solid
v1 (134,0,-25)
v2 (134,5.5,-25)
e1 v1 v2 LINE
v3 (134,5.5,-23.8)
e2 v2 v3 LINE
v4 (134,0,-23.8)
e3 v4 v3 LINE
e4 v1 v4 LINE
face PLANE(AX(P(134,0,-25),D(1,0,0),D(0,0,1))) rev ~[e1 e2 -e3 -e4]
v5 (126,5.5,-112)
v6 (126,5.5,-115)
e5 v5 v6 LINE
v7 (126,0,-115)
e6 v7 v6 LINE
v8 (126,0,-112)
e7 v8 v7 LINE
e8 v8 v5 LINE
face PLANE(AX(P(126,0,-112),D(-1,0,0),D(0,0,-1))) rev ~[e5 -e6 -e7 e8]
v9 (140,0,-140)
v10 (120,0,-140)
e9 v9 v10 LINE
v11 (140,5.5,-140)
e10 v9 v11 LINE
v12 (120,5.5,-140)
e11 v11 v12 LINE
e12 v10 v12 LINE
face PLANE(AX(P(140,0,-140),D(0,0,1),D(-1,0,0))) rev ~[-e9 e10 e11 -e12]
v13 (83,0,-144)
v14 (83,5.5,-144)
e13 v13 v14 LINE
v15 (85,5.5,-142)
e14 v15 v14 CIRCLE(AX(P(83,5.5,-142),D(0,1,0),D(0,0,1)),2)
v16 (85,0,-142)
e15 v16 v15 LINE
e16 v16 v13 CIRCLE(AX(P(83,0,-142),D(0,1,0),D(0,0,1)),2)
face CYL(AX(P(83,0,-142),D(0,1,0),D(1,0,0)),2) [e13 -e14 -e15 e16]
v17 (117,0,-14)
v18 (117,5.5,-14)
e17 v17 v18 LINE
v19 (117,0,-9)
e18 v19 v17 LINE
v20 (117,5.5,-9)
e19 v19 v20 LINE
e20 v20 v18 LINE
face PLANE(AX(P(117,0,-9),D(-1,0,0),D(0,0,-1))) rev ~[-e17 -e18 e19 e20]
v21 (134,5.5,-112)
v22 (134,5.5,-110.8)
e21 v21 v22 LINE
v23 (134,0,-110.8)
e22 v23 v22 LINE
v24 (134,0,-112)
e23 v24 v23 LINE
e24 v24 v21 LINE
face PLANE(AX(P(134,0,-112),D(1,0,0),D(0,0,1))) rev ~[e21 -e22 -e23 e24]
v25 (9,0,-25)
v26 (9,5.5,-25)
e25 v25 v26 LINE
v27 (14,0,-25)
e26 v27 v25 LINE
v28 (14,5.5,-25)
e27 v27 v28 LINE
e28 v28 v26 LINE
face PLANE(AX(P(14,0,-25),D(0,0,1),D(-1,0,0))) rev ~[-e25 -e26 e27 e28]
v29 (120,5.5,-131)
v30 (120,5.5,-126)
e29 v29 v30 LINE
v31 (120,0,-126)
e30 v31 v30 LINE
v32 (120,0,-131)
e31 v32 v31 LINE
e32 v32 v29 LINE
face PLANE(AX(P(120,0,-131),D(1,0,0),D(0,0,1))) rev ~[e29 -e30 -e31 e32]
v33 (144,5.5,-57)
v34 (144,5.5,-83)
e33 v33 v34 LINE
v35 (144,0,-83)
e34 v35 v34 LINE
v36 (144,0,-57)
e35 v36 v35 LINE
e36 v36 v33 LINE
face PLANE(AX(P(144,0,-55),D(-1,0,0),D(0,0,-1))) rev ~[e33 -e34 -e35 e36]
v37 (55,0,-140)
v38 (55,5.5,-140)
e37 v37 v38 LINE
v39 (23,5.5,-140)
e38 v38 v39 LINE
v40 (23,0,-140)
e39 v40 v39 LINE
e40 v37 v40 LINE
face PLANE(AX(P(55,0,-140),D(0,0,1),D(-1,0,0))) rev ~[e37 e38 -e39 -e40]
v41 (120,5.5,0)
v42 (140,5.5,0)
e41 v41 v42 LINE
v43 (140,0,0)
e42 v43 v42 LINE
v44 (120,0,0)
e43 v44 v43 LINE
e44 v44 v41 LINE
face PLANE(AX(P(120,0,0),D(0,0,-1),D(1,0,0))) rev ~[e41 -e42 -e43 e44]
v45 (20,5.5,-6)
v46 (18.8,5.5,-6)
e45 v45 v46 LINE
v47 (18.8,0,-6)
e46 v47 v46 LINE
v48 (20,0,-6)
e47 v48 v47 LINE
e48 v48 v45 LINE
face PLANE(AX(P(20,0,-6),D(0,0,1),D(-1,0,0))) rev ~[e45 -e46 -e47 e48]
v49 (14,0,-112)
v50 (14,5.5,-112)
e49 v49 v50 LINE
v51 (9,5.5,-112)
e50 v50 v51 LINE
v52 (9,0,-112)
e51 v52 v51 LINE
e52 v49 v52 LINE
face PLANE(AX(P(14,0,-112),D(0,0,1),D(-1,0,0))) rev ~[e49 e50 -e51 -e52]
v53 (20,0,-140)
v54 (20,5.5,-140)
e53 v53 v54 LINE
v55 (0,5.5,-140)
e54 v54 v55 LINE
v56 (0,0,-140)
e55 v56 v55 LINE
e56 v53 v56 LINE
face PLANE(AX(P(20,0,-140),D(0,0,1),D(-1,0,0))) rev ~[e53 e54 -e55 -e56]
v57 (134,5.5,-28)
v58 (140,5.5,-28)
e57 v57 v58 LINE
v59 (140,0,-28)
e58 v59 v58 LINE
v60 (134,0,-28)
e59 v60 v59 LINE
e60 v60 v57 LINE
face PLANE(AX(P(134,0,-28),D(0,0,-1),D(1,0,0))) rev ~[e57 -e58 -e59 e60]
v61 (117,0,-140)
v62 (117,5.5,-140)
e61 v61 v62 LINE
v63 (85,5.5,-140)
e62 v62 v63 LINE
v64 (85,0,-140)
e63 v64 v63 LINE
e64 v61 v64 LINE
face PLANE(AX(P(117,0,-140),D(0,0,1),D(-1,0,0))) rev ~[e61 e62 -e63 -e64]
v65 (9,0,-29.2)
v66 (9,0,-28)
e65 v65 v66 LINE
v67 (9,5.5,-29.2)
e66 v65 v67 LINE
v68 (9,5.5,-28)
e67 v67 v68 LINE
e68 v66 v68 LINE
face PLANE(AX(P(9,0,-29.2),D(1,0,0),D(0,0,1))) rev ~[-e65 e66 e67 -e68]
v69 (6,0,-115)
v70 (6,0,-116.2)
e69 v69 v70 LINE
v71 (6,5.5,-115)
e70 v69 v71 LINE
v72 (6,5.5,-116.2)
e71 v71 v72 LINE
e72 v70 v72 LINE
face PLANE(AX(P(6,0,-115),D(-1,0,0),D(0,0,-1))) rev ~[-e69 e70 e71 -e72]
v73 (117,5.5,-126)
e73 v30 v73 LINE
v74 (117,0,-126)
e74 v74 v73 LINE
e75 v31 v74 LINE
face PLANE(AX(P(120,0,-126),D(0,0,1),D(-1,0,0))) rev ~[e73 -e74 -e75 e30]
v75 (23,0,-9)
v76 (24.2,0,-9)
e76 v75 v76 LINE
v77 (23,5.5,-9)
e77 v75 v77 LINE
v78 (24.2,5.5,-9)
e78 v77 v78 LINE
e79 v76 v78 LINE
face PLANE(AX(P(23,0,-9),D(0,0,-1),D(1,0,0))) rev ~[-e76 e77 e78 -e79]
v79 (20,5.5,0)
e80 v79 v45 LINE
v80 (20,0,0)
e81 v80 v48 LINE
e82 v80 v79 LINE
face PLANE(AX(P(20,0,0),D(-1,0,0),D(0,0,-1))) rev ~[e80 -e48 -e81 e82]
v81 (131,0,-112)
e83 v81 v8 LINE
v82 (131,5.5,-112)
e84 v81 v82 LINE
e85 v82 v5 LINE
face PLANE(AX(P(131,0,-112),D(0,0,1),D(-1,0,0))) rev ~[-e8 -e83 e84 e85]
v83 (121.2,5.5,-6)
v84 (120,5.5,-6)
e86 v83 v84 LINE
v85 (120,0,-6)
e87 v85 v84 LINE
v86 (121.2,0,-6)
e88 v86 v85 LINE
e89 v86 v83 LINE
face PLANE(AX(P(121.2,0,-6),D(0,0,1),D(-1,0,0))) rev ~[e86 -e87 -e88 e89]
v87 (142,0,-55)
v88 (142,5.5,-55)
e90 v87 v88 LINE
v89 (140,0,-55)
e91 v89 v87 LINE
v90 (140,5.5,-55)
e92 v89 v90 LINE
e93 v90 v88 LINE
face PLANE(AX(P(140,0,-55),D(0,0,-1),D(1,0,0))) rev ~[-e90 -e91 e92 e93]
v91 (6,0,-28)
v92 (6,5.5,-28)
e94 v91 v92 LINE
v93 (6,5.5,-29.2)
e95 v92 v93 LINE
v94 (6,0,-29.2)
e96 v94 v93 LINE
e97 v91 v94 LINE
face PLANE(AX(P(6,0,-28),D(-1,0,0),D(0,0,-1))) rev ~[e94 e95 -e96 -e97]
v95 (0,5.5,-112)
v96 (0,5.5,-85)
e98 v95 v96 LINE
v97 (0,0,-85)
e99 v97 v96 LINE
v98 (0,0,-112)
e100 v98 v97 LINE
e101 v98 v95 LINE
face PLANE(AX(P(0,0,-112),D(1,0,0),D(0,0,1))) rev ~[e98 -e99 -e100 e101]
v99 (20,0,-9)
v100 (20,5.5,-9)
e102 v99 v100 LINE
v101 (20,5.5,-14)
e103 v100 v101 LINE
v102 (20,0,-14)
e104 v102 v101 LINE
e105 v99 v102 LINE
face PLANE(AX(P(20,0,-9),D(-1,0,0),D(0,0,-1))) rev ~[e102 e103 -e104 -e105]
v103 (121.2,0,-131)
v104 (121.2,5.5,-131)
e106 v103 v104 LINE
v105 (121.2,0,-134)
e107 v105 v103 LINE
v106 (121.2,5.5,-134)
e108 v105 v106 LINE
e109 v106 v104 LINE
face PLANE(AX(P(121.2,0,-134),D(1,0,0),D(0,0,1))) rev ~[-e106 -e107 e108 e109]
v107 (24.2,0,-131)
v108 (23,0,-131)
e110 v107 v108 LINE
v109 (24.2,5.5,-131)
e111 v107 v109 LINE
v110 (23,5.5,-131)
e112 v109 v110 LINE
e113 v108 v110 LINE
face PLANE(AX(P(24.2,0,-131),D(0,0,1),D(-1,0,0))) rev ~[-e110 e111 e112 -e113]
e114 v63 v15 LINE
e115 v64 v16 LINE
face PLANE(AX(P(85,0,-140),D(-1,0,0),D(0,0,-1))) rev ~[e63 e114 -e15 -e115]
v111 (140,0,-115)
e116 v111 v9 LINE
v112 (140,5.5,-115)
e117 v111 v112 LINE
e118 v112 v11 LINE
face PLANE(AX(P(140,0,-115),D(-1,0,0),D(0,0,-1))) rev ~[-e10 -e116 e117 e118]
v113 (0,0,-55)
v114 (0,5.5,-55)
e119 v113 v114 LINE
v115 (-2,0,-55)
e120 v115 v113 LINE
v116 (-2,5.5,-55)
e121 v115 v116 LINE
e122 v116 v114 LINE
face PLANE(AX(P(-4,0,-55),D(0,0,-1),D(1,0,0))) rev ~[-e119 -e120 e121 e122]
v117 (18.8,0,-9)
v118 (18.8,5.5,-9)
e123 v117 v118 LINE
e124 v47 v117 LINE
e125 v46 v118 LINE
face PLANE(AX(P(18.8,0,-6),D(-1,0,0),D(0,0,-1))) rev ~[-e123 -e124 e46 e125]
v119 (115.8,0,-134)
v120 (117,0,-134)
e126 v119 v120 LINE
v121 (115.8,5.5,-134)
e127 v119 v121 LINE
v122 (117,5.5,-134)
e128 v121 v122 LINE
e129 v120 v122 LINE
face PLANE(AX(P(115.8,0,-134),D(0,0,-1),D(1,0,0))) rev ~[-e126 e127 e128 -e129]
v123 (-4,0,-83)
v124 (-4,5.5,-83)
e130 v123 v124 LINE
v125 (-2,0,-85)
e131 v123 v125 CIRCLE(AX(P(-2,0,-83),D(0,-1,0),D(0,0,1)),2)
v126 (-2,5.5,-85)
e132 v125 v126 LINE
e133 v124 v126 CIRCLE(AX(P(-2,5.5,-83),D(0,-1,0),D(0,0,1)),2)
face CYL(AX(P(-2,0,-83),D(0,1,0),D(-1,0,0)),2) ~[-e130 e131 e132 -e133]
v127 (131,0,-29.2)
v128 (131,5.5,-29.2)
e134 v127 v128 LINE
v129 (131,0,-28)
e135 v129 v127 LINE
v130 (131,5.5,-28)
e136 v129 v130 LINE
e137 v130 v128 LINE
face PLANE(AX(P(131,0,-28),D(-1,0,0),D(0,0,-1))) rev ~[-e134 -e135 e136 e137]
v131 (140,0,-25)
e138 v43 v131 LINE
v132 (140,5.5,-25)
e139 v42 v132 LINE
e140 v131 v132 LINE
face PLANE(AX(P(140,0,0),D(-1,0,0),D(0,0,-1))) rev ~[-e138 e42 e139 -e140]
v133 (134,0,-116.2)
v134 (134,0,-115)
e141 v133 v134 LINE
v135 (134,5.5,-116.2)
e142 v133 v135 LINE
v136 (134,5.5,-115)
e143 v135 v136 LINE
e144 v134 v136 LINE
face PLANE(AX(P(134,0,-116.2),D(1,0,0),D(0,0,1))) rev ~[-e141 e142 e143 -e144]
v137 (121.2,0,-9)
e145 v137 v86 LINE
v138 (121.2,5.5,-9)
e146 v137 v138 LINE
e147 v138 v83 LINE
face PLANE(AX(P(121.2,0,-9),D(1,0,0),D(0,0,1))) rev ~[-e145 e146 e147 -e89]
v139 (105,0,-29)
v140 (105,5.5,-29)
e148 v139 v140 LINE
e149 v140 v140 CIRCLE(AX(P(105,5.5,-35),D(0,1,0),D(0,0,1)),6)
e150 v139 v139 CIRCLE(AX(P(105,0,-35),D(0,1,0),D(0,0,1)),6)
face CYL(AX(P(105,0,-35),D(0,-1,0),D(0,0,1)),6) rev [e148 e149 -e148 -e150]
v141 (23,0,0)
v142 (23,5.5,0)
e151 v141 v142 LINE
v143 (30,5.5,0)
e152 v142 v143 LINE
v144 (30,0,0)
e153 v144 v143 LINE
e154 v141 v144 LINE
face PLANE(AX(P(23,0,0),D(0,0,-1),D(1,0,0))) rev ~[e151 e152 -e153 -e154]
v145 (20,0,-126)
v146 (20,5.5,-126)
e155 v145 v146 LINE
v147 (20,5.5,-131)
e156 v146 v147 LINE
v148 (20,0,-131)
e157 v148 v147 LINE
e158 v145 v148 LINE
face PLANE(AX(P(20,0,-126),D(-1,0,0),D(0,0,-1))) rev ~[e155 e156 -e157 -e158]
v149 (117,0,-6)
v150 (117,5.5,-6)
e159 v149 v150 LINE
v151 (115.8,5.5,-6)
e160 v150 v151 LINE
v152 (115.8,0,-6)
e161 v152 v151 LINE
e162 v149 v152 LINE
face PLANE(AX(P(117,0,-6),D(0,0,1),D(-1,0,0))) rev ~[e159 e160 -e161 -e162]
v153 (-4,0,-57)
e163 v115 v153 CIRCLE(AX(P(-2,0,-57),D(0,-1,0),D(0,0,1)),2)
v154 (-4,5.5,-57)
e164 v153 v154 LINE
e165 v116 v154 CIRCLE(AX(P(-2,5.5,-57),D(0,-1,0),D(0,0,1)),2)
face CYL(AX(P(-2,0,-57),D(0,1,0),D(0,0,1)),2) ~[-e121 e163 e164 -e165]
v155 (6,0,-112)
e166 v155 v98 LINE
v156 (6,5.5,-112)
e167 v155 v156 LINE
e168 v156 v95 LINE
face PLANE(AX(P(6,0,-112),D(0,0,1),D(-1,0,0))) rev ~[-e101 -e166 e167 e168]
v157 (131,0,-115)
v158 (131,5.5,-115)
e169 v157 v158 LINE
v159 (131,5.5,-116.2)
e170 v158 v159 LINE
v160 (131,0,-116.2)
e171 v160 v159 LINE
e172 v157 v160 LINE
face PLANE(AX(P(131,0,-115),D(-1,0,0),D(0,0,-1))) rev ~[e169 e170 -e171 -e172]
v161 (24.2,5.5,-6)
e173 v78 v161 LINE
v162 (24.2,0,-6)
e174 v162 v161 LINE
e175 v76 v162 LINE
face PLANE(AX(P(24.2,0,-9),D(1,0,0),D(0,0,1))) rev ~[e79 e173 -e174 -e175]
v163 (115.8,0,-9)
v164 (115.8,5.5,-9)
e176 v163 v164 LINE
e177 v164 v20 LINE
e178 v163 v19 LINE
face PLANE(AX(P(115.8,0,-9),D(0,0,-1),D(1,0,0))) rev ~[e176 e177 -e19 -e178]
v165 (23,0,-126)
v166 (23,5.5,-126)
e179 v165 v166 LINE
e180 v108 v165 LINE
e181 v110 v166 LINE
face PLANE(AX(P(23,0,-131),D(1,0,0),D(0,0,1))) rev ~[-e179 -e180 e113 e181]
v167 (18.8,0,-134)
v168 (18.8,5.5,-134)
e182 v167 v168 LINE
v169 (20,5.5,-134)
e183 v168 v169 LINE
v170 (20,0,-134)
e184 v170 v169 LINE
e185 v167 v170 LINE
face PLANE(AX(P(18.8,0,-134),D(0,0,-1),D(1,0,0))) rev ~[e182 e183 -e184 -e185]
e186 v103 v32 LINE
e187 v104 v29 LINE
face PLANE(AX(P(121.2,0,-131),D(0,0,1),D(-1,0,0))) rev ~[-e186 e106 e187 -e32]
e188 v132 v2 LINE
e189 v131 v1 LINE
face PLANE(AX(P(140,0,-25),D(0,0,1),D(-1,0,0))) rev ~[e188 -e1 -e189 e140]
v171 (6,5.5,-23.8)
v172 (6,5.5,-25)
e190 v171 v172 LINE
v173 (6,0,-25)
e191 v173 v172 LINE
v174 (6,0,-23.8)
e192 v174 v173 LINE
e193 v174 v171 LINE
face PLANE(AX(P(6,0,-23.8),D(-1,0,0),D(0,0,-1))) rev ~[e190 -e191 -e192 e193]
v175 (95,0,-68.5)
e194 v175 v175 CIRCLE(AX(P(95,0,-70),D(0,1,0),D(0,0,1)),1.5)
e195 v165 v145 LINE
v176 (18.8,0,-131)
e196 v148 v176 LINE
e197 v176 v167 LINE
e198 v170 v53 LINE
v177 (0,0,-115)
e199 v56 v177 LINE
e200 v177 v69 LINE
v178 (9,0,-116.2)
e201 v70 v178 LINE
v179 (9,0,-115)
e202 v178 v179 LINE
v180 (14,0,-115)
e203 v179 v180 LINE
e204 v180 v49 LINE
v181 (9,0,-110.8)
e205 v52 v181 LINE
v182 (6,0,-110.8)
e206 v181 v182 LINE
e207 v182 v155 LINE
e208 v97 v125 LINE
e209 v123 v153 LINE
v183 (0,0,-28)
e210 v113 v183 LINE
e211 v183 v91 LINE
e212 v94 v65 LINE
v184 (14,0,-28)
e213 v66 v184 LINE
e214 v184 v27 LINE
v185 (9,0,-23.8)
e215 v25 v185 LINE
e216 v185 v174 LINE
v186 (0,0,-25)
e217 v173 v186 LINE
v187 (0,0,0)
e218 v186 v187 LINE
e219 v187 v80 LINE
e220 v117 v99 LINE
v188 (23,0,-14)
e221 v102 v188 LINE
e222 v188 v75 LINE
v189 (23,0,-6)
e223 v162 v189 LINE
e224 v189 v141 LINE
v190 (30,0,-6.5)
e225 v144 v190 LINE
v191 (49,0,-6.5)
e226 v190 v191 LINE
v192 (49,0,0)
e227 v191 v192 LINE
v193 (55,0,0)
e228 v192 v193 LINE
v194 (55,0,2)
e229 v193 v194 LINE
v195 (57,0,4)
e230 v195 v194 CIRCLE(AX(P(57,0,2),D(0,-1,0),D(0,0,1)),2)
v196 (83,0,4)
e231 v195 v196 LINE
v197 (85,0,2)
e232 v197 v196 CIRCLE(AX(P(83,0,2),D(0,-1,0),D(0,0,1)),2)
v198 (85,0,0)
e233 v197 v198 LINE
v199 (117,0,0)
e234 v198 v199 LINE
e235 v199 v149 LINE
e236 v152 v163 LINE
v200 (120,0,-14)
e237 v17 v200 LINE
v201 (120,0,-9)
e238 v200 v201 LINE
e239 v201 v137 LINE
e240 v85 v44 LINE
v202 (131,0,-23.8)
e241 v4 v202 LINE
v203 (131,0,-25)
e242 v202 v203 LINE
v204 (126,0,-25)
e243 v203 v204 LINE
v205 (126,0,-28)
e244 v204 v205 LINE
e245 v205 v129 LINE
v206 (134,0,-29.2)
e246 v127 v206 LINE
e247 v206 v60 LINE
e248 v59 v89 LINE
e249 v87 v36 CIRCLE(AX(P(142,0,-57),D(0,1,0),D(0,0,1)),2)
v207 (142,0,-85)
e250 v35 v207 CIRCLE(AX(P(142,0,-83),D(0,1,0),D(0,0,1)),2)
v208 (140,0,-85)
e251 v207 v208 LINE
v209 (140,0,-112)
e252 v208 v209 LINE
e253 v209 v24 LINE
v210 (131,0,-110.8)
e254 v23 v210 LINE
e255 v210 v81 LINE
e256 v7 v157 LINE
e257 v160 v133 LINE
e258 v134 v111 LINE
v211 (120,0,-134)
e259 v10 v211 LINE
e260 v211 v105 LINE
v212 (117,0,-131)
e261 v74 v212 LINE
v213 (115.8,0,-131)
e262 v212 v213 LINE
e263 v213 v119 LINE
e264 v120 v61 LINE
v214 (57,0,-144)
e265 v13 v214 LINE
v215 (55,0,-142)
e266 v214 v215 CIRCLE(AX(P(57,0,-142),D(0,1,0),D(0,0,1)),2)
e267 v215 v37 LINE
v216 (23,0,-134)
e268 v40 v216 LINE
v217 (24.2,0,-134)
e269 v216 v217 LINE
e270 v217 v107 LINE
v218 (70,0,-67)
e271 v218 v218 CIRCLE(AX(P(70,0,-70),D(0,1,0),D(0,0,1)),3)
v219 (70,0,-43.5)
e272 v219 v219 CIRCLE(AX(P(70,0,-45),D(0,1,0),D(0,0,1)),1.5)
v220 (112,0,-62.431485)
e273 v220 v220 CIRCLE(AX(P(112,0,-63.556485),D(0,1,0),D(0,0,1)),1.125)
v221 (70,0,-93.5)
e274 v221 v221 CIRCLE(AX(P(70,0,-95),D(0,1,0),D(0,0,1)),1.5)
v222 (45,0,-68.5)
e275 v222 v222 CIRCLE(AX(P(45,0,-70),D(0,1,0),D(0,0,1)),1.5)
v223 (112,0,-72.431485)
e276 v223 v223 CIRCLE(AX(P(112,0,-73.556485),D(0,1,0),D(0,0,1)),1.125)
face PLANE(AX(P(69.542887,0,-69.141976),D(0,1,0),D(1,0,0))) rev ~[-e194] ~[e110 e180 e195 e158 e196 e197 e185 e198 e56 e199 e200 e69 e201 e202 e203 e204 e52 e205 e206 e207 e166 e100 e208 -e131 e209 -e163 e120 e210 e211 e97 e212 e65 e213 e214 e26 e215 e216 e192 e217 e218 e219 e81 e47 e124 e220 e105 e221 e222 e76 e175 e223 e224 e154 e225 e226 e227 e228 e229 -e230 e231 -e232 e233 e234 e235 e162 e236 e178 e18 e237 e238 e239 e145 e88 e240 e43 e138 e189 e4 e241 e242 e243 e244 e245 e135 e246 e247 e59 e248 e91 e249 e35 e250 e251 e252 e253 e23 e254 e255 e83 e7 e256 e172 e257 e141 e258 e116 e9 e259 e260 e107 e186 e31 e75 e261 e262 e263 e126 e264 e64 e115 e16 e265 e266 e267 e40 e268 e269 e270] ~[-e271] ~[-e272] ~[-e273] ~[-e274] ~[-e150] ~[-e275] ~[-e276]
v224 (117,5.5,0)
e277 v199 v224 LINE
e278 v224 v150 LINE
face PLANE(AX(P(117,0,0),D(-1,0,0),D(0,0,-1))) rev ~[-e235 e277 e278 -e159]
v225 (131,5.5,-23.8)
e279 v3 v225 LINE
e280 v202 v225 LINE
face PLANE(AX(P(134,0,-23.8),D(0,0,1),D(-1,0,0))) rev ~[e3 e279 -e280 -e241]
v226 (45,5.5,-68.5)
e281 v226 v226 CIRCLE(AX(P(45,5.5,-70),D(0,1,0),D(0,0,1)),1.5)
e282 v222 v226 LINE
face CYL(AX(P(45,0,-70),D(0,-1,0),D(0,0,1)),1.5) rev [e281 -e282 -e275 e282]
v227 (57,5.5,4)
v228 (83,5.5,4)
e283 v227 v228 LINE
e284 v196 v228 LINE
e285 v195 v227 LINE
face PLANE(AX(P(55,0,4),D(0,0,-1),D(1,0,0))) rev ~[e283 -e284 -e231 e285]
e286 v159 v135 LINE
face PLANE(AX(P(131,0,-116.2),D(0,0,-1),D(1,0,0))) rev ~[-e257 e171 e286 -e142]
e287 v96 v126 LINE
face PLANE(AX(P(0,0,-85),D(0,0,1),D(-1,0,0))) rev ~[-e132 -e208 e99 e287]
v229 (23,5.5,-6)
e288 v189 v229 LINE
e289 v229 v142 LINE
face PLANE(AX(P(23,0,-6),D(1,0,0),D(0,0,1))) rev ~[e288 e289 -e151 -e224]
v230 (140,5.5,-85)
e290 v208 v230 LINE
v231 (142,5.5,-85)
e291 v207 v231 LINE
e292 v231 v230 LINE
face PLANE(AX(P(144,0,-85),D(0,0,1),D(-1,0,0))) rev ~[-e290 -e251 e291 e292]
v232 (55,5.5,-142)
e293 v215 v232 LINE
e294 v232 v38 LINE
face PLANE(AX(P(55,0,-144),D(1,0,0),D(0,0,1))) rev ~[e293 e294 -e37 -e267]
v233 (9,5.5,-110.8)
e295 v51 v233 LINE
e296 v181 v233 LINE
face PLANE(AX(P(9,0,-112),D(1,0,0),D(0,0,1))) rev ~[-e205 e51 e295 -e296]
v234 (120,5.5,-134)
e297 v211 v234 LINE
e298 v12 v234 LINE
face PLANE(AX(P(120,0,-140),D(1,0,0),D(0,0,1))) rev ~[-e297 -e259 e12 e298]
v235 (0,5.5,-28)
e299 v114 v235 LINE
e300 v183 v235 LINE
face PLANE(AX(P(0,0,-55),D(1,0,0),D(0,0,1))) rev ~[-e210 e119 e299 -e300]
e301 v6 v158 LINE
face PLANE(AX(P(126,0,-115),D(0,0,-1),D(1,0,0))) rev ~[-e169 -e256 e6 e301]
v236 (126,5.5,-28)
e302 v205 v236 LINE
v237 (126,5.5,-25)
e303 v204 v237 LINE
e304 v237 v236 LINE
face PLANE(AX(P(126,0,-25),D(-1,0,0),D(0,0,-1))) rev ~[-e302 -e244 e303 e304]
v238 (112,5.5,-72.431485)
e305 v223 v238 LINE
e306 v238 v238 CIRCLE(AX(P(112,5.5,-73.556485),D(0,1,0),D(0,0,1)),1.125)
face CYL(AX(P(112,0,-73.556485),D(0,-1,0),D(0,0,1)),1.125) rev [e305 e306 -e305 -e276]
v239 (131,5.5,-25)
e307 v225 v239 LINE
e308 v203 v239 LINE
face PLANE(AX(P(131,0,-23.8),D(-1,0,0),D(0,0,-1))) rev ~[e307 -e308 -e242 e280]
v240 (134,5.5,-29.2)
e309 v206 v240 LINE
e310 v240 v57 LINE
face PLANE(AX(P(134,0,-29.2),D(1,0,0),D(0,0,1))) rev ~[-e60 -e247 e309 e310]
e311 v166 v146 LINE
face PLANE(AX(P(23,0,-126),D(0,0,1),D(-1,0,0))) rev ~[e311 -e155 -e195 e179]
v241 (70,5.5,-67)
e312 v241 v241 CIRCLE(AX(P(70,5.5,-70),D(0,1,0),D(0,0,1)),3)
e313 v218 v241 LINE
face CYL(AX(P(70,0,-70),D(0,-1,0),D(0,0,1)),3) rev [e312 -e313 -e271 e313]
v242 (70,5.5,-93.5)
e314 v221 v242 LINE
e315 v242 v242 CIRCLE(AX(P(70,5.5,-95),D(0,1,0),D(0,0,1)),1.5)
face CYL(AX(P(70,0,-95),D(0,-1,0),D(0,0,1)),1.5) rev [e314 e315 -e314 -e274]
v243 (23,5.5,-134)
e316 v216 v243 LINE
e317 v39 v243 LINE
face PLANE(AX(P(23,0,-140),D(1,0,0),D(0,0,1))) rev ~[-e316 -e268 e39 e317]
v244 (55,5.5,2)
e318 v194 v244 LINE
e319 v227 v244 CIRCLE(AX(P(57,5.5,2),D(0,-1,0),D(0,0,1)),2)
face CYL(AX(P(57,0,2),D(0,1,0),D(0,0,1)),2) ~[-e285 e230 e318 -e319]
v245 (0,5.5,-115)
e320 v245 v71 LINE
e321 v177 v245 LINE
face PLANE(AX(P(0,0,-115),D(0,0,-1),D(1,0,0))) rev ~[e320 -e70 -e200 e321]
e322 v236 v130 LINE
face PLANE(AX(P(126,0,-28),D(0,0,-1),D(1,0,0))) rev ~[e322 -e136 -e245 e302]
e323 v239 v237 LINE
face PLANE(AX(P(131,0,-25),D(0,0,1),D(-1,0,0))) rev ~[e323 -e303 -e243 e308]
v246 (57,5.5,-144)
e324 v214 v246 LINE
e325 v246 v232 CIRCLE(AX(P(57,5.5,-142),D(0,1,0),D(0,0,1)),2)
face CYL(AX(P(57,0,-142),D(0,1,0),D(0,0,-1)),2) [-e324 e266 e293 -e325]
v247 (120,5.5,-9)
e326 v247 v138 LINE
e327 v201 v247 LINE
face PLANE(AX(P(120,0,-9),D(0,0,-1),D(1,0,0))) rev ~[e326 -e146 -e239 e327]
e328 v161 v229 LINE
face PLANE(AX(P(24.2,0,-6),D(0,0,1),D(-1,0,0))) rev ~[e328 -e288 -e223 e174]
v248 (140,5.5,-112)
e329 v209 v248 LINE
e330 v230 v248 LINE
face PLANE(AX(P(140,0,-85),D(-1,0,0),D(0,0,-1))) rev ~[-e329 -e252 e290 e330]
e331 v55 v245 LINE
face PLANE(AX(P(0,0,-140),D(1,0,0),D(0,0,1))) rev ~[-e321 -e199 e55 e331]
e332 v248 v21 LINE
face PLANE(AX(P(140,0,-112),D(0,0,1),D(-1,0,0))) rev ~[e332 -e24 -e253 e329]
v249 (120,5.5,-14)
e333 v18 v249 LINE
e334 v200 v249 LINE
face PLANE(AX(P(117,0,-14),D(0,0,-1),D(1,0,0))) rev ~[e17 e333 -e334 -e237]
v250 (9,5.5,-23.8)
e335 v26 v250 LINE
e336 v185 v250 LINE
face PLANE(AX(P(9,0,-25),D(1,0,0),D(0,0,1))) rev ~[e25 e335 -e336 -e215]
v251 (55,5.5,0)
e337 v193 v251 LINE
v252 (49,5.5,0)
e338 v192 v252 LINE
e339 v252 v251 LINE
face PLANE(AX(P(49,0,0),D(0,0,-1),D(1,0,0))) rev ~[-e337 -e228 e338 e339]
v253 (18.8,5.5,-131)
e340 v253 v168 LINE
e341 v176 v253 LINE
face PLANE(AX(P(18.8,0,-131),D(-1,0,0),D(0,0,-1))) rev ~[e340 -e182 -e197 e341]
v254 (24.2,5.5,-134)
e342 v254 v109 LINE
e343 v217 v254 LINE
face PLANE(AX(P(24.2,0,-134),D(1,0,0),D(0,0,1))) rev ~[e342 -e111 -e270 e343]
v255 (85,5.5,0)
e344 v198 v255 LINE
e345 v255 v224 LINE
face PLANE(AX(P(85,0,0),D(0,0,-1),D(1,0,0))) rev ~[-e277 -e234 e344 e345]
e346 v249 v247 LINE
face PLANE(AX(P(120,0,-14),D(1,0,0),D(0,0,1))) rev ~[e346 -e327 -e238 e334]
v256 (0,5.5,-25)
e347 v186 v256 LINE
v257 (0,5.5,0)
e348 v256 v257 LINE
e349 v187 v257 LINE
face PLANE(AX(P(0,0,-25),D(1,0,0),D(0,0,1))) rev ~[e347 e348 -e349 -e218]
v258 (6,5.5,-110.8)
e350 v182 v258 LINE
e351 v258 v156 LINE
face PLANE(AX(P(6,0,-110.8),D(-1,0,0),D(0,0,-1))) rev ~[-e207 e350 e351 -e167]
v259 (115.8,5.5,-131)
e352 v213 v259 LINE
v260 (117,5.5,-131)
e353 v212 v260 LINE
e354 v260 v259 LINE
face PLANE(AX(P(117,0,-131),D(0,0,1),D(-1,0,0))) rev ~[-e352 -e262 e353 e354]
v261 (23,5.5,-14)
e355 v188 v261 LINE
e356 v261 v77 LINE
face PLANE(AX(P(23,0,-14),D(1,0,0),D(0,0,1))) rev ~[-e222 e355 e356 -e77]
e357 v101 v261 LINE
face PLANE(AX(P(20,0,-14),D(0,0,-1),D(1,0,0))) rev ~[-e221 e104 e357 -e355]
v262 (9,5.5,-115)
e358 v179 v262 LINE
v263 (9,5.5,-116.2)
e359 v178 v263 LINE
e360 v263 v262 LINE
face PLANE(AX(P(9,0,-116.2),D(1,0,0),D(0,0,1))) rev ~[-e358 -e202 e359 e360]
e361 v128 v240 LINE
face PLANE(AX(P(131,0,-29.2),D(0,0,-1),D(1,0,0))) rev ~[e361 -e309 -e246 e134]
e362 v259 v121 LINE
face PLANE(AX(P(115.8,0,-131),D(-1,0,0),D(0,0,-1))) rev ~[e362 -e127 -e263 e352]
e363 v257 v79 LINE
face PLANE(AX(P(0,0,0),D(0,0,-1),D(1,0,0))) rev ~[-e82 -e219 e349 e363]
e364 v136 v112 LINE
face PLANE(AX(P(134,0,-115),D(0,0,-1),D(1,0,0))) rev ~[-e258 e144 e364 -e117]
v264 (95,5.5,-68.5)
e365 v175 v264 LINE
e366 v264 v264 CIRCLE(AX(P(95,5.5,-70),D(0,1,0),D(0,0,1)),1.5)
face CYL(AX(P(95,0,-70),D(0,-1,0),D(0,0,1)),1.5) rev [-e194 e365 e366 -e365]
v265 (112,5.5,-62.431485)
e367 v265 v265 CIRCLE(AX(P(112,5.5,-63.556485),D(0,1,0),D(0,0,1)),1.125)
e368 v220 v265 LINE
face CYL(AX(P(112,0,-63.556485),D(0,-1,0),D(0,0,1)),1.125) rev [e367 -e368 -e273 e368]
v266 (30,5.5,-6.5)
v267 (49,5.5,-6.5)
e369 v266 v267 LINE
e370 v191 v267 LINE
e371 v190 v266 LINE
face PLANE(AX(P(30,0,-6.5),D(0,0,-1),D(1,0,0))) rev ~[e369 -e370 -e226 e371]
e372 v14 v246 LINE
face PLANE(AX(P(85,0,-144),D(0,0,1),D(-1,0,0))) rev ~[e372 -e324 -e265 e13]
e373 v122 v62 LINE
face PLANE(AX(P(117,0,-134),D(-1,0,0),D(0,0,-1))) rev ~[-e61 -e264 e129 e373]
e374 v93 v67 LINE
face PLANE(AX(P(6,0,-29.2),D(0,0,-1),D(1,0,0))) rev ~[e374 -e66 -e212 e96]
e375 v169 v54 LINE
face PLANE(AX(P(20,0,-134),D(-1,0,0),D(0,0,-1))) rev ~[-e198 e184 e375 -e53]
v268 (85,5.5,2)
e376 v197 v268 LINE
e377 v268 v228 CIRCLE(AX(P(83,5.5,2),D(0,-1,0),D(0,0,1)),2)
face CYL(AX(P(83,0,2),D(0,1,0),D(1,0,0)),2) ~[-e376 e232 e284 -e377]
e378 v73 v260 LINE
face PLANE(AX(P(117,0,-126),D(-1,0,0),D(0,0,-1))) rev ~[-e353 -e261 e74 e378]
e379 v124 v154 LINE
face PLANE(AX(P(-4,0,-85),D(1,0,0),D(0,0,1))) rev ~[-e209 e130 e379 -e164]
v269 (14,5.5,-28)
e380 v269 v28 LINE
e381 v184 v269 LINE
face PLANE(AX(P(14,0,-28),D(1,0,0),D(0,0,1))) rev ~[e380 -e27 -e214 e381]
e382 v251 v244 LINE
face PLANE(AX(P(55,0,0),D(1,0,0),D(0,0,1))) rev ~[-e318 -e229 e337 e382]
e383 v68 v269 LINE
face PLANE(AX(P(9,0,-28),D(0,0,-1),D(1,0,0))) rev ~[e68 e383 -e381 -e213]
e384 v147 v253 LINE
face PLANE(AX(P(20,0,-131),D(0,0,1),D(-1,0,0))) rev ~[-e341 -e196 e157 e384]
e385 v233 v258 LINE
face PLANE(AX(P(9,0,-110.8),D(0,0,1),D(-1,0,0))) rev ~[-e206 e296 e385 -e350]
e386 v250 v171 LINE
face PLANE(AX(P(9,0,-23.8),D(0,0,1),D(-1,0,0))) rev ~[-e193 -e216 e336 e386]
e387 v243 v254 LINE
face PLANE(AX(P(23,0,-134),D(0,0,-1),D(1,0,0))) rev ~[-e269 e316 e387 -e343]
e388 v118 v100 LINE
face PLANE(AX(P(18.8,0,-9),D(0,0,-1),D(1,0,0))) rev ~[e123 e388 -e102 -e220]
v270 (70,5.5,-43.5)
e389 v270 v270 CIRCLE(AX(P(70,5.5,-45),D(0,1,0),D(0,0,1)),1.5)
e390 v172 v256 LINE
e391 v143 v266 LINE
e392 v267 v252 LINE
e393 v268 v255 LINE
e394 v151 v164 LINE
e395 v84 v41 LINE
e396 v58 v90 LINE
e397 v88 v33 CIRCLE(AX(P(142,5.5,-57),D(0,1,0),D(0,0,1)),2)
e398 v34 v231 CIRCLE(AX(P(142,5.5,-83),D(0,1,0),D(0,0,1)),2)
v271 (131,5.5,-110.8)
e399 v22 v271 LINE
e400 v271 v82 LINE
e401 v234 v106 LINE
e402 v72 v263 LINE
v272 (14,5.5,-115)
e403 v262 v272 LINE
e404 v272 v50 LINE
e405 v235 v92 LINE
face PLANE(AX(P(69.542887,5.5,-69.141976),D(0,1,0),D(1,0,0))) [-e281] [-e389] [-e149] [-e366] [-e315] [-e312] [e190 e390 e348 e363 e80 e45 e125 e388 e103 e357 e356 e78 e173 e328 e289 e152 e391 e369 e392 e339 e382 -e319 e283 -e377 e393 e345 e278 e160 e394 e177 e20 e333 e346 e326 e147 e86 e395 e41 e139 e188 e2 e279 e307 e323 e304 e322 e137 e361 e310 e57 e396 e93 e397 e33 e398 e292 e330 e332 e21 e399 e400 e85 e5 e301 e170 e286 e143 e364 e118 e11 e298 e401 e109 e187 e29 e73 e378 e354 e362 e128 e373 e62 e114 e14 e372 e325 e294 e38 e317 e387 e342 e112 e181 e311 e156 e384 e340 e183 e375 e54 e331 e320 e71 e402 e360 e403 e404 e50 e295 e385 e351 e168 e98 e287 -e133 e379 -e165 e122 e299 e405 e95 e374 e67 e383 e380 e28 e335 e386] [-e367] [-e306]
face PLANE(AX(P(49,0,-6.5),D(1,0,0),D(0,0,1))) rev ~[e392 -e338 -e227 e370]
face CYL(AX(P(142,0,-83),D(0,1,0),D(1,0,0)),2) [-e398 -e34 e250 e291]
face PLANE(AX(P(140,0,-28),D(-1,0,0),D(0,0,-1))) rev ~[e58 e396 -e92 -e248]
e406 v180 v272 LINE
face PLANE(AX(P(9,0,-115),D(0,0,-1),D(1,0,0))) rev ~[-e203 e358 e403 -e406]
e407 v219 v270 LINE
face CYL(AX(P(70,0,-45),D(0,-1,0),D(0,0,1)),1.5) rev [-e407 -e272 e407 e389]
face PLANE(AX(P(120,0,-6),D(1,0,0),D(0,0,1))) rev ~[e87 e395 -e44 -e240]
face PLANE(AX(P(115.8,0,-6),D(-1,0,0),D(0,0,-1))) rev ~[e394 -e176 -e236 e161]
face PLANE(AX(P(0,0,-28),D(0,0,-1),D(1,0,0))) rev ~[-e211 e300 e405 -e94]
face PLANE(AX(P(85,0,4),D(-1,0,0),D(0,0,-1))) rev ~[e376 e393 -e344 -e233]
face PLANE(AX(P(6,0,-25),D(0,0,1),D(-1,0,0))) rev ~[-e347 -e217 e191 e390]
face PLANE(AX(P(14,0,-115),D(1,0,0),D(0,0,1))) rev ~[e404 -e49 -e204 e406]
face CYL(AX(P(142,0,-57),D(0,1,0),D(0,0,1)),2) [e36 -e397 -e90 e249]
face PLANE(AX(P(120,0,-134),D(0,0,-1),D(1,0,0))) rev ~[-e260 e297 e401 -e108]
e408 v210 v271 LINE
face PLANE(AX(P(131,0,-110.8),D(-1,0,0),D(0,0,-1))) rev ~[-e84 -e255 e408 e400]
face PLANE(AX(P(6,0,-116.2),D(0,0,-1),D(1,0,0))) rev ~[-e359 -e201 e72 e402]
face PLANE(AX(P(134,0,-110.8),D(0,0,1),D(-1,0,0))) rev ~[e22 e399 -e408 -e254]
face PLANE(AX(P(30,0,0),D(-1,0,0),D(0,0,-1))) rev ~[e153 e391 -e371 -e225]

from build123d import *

# Parameters (mm, degrees)
SKETCH1_R           = 3
SKETCH1_R_2         = 1.5
SKETCH1_R_3         = 6
SKETCH1_R_4         = 1.125
BOSS_EXTRUDE1_DEPTH = 5.5
FILLET1_R           = 2


with BuildPart() as part:
    # Sketch1 → Boss-Extrude1 (new body)
    with BuildSketch(Plane(origin=(0, 0, 0), x_dir=(1, 0, 0), z_dir=(0, 1, 0))):
        Polygon((85, 0), (117, 0), (117, 6), (115.8, 6), (115.8, 9), (117, 9), (117, 14), (120, 14), (120, 9), (121.2, 9), (121.2, 6), (120, 6), (120, 0), (140, 0), (140, 25), (134, 25), (134, 23.8), (131, 23.8), (131, 25), (126, 25), (126, 28), (131, 28), (131, 29.2), (134, 29.2), (134, 28), (140, 28), (140, 55), (144, 55), (144, 85), (140, 85), (140, 112), (134, 112), (134, 110.8), (131, 110.8), (131, 112), (126, 112), (126, 115), (131, 115), (131, 116.2), (134, 116.2), (134, 115), (140, 115), (140, 140), (120, 140), (120, 134), (121.2, 134), (121.2, 131), (120, 131), (120, 126), (117, 126), (117, 131), (115.8, 131), (115.8, 134), (117, 134), (117, 140), (85, 140), (85, 144), (55, 144), (55, 140), (23, 140), (23, 134), (24.2, 134), (24.2, 131), (23, 131), (23, 126), (20, 126), (20, 131), (18.8, 131), (18.8, 134), (20, 134), (20, 140), (0, 140), (0, 115), (6, 115), (6, 116.2), (9, 116.2), (9, 115), (14, 115), (14, 112), (9, 112), (9, 110.8), (6, 110.8), (6, 112), (0, 112), (0, 85), (-4, 85), (-4, 55), (0, 55), (0, 28), (6, 28), (6, 29.2), (9, 29.2), (9, 28), (14, 28), (14, 25), (9, 25), (9, 23.8), (6, 23.8), (6, 25), (0, 25), (0, 0), (20, 0), (20, 6), (18.8, 6), (18.8, 9), (20, 9), (20, 14), (23, 14), (23, 9), (24.2, 9), (24.2, 6), (23, 6), (23, 0), (30, 0), (30, 6.5), (49, 6.5), (49, 0), (55, 0), (55, -4), (85, -4), align=None)
        with Locations(Location((70, 70, 0), (0, 0, 270))):
            Circle(SKETCH1_R, mode=Mode.SUBTRACT)
        with Locations(Location((70, 95, 0), (0, 0, 270))):
            Circle(SKETCH1_R_2, mode=Mode.SUBTRACT)
        with Locations(Location((95, 70, 0), (0, 0, 270))):
            Circle(SKETCH1_R_2, mode=Mode.SUBTRACT)
        with Locations(Location((70, 45, 0), (0, 0, 270))):
            Circle(SKETCH1_R_2, mode=Mode.SUBTRACT)
        with Locations(Location((45, 70, 0), (0, 0, 270))):
            Circle(SKETCH1_R_2, mode=Mode.SUBTRACT)
        with Locations(Location((105, 35, 0), (0, 0, 270))):
            Circle(SKETCH1_R_3, mode=Mode.SUBTRACT)
        with Locations(Location((112, 73.556484563, 0), (0, 0, 270))):
            Circle(SKETCH1_R_4, mode=Mode.SUBTRACT)
        with Locations(Location((112, 63.556484563, 0), (0, 0, 270))):
            Circle(SKETCH1_R_4, mode=Mode.SUBTRACT)
    extrude(amount=BOSS_EXTRUDE1_DEPTH)

    # Fillet1
    fillet1_edges = [part.edges().sort_by_distance(p)[0] for p in [
        (-4, 2.75, -55),
        (-4, 2.75, -85),
        (55, 2.75, -144),
        (85, 2.75, -144),
        (144, 2.75, -85),
        (144, 2.75, -55),
        (85, 2.75, 4),
        (55, 2.75, 4),
    ]]
    fillet(fillet1_edges, radius=FILLET1_R)


solid = part.part
